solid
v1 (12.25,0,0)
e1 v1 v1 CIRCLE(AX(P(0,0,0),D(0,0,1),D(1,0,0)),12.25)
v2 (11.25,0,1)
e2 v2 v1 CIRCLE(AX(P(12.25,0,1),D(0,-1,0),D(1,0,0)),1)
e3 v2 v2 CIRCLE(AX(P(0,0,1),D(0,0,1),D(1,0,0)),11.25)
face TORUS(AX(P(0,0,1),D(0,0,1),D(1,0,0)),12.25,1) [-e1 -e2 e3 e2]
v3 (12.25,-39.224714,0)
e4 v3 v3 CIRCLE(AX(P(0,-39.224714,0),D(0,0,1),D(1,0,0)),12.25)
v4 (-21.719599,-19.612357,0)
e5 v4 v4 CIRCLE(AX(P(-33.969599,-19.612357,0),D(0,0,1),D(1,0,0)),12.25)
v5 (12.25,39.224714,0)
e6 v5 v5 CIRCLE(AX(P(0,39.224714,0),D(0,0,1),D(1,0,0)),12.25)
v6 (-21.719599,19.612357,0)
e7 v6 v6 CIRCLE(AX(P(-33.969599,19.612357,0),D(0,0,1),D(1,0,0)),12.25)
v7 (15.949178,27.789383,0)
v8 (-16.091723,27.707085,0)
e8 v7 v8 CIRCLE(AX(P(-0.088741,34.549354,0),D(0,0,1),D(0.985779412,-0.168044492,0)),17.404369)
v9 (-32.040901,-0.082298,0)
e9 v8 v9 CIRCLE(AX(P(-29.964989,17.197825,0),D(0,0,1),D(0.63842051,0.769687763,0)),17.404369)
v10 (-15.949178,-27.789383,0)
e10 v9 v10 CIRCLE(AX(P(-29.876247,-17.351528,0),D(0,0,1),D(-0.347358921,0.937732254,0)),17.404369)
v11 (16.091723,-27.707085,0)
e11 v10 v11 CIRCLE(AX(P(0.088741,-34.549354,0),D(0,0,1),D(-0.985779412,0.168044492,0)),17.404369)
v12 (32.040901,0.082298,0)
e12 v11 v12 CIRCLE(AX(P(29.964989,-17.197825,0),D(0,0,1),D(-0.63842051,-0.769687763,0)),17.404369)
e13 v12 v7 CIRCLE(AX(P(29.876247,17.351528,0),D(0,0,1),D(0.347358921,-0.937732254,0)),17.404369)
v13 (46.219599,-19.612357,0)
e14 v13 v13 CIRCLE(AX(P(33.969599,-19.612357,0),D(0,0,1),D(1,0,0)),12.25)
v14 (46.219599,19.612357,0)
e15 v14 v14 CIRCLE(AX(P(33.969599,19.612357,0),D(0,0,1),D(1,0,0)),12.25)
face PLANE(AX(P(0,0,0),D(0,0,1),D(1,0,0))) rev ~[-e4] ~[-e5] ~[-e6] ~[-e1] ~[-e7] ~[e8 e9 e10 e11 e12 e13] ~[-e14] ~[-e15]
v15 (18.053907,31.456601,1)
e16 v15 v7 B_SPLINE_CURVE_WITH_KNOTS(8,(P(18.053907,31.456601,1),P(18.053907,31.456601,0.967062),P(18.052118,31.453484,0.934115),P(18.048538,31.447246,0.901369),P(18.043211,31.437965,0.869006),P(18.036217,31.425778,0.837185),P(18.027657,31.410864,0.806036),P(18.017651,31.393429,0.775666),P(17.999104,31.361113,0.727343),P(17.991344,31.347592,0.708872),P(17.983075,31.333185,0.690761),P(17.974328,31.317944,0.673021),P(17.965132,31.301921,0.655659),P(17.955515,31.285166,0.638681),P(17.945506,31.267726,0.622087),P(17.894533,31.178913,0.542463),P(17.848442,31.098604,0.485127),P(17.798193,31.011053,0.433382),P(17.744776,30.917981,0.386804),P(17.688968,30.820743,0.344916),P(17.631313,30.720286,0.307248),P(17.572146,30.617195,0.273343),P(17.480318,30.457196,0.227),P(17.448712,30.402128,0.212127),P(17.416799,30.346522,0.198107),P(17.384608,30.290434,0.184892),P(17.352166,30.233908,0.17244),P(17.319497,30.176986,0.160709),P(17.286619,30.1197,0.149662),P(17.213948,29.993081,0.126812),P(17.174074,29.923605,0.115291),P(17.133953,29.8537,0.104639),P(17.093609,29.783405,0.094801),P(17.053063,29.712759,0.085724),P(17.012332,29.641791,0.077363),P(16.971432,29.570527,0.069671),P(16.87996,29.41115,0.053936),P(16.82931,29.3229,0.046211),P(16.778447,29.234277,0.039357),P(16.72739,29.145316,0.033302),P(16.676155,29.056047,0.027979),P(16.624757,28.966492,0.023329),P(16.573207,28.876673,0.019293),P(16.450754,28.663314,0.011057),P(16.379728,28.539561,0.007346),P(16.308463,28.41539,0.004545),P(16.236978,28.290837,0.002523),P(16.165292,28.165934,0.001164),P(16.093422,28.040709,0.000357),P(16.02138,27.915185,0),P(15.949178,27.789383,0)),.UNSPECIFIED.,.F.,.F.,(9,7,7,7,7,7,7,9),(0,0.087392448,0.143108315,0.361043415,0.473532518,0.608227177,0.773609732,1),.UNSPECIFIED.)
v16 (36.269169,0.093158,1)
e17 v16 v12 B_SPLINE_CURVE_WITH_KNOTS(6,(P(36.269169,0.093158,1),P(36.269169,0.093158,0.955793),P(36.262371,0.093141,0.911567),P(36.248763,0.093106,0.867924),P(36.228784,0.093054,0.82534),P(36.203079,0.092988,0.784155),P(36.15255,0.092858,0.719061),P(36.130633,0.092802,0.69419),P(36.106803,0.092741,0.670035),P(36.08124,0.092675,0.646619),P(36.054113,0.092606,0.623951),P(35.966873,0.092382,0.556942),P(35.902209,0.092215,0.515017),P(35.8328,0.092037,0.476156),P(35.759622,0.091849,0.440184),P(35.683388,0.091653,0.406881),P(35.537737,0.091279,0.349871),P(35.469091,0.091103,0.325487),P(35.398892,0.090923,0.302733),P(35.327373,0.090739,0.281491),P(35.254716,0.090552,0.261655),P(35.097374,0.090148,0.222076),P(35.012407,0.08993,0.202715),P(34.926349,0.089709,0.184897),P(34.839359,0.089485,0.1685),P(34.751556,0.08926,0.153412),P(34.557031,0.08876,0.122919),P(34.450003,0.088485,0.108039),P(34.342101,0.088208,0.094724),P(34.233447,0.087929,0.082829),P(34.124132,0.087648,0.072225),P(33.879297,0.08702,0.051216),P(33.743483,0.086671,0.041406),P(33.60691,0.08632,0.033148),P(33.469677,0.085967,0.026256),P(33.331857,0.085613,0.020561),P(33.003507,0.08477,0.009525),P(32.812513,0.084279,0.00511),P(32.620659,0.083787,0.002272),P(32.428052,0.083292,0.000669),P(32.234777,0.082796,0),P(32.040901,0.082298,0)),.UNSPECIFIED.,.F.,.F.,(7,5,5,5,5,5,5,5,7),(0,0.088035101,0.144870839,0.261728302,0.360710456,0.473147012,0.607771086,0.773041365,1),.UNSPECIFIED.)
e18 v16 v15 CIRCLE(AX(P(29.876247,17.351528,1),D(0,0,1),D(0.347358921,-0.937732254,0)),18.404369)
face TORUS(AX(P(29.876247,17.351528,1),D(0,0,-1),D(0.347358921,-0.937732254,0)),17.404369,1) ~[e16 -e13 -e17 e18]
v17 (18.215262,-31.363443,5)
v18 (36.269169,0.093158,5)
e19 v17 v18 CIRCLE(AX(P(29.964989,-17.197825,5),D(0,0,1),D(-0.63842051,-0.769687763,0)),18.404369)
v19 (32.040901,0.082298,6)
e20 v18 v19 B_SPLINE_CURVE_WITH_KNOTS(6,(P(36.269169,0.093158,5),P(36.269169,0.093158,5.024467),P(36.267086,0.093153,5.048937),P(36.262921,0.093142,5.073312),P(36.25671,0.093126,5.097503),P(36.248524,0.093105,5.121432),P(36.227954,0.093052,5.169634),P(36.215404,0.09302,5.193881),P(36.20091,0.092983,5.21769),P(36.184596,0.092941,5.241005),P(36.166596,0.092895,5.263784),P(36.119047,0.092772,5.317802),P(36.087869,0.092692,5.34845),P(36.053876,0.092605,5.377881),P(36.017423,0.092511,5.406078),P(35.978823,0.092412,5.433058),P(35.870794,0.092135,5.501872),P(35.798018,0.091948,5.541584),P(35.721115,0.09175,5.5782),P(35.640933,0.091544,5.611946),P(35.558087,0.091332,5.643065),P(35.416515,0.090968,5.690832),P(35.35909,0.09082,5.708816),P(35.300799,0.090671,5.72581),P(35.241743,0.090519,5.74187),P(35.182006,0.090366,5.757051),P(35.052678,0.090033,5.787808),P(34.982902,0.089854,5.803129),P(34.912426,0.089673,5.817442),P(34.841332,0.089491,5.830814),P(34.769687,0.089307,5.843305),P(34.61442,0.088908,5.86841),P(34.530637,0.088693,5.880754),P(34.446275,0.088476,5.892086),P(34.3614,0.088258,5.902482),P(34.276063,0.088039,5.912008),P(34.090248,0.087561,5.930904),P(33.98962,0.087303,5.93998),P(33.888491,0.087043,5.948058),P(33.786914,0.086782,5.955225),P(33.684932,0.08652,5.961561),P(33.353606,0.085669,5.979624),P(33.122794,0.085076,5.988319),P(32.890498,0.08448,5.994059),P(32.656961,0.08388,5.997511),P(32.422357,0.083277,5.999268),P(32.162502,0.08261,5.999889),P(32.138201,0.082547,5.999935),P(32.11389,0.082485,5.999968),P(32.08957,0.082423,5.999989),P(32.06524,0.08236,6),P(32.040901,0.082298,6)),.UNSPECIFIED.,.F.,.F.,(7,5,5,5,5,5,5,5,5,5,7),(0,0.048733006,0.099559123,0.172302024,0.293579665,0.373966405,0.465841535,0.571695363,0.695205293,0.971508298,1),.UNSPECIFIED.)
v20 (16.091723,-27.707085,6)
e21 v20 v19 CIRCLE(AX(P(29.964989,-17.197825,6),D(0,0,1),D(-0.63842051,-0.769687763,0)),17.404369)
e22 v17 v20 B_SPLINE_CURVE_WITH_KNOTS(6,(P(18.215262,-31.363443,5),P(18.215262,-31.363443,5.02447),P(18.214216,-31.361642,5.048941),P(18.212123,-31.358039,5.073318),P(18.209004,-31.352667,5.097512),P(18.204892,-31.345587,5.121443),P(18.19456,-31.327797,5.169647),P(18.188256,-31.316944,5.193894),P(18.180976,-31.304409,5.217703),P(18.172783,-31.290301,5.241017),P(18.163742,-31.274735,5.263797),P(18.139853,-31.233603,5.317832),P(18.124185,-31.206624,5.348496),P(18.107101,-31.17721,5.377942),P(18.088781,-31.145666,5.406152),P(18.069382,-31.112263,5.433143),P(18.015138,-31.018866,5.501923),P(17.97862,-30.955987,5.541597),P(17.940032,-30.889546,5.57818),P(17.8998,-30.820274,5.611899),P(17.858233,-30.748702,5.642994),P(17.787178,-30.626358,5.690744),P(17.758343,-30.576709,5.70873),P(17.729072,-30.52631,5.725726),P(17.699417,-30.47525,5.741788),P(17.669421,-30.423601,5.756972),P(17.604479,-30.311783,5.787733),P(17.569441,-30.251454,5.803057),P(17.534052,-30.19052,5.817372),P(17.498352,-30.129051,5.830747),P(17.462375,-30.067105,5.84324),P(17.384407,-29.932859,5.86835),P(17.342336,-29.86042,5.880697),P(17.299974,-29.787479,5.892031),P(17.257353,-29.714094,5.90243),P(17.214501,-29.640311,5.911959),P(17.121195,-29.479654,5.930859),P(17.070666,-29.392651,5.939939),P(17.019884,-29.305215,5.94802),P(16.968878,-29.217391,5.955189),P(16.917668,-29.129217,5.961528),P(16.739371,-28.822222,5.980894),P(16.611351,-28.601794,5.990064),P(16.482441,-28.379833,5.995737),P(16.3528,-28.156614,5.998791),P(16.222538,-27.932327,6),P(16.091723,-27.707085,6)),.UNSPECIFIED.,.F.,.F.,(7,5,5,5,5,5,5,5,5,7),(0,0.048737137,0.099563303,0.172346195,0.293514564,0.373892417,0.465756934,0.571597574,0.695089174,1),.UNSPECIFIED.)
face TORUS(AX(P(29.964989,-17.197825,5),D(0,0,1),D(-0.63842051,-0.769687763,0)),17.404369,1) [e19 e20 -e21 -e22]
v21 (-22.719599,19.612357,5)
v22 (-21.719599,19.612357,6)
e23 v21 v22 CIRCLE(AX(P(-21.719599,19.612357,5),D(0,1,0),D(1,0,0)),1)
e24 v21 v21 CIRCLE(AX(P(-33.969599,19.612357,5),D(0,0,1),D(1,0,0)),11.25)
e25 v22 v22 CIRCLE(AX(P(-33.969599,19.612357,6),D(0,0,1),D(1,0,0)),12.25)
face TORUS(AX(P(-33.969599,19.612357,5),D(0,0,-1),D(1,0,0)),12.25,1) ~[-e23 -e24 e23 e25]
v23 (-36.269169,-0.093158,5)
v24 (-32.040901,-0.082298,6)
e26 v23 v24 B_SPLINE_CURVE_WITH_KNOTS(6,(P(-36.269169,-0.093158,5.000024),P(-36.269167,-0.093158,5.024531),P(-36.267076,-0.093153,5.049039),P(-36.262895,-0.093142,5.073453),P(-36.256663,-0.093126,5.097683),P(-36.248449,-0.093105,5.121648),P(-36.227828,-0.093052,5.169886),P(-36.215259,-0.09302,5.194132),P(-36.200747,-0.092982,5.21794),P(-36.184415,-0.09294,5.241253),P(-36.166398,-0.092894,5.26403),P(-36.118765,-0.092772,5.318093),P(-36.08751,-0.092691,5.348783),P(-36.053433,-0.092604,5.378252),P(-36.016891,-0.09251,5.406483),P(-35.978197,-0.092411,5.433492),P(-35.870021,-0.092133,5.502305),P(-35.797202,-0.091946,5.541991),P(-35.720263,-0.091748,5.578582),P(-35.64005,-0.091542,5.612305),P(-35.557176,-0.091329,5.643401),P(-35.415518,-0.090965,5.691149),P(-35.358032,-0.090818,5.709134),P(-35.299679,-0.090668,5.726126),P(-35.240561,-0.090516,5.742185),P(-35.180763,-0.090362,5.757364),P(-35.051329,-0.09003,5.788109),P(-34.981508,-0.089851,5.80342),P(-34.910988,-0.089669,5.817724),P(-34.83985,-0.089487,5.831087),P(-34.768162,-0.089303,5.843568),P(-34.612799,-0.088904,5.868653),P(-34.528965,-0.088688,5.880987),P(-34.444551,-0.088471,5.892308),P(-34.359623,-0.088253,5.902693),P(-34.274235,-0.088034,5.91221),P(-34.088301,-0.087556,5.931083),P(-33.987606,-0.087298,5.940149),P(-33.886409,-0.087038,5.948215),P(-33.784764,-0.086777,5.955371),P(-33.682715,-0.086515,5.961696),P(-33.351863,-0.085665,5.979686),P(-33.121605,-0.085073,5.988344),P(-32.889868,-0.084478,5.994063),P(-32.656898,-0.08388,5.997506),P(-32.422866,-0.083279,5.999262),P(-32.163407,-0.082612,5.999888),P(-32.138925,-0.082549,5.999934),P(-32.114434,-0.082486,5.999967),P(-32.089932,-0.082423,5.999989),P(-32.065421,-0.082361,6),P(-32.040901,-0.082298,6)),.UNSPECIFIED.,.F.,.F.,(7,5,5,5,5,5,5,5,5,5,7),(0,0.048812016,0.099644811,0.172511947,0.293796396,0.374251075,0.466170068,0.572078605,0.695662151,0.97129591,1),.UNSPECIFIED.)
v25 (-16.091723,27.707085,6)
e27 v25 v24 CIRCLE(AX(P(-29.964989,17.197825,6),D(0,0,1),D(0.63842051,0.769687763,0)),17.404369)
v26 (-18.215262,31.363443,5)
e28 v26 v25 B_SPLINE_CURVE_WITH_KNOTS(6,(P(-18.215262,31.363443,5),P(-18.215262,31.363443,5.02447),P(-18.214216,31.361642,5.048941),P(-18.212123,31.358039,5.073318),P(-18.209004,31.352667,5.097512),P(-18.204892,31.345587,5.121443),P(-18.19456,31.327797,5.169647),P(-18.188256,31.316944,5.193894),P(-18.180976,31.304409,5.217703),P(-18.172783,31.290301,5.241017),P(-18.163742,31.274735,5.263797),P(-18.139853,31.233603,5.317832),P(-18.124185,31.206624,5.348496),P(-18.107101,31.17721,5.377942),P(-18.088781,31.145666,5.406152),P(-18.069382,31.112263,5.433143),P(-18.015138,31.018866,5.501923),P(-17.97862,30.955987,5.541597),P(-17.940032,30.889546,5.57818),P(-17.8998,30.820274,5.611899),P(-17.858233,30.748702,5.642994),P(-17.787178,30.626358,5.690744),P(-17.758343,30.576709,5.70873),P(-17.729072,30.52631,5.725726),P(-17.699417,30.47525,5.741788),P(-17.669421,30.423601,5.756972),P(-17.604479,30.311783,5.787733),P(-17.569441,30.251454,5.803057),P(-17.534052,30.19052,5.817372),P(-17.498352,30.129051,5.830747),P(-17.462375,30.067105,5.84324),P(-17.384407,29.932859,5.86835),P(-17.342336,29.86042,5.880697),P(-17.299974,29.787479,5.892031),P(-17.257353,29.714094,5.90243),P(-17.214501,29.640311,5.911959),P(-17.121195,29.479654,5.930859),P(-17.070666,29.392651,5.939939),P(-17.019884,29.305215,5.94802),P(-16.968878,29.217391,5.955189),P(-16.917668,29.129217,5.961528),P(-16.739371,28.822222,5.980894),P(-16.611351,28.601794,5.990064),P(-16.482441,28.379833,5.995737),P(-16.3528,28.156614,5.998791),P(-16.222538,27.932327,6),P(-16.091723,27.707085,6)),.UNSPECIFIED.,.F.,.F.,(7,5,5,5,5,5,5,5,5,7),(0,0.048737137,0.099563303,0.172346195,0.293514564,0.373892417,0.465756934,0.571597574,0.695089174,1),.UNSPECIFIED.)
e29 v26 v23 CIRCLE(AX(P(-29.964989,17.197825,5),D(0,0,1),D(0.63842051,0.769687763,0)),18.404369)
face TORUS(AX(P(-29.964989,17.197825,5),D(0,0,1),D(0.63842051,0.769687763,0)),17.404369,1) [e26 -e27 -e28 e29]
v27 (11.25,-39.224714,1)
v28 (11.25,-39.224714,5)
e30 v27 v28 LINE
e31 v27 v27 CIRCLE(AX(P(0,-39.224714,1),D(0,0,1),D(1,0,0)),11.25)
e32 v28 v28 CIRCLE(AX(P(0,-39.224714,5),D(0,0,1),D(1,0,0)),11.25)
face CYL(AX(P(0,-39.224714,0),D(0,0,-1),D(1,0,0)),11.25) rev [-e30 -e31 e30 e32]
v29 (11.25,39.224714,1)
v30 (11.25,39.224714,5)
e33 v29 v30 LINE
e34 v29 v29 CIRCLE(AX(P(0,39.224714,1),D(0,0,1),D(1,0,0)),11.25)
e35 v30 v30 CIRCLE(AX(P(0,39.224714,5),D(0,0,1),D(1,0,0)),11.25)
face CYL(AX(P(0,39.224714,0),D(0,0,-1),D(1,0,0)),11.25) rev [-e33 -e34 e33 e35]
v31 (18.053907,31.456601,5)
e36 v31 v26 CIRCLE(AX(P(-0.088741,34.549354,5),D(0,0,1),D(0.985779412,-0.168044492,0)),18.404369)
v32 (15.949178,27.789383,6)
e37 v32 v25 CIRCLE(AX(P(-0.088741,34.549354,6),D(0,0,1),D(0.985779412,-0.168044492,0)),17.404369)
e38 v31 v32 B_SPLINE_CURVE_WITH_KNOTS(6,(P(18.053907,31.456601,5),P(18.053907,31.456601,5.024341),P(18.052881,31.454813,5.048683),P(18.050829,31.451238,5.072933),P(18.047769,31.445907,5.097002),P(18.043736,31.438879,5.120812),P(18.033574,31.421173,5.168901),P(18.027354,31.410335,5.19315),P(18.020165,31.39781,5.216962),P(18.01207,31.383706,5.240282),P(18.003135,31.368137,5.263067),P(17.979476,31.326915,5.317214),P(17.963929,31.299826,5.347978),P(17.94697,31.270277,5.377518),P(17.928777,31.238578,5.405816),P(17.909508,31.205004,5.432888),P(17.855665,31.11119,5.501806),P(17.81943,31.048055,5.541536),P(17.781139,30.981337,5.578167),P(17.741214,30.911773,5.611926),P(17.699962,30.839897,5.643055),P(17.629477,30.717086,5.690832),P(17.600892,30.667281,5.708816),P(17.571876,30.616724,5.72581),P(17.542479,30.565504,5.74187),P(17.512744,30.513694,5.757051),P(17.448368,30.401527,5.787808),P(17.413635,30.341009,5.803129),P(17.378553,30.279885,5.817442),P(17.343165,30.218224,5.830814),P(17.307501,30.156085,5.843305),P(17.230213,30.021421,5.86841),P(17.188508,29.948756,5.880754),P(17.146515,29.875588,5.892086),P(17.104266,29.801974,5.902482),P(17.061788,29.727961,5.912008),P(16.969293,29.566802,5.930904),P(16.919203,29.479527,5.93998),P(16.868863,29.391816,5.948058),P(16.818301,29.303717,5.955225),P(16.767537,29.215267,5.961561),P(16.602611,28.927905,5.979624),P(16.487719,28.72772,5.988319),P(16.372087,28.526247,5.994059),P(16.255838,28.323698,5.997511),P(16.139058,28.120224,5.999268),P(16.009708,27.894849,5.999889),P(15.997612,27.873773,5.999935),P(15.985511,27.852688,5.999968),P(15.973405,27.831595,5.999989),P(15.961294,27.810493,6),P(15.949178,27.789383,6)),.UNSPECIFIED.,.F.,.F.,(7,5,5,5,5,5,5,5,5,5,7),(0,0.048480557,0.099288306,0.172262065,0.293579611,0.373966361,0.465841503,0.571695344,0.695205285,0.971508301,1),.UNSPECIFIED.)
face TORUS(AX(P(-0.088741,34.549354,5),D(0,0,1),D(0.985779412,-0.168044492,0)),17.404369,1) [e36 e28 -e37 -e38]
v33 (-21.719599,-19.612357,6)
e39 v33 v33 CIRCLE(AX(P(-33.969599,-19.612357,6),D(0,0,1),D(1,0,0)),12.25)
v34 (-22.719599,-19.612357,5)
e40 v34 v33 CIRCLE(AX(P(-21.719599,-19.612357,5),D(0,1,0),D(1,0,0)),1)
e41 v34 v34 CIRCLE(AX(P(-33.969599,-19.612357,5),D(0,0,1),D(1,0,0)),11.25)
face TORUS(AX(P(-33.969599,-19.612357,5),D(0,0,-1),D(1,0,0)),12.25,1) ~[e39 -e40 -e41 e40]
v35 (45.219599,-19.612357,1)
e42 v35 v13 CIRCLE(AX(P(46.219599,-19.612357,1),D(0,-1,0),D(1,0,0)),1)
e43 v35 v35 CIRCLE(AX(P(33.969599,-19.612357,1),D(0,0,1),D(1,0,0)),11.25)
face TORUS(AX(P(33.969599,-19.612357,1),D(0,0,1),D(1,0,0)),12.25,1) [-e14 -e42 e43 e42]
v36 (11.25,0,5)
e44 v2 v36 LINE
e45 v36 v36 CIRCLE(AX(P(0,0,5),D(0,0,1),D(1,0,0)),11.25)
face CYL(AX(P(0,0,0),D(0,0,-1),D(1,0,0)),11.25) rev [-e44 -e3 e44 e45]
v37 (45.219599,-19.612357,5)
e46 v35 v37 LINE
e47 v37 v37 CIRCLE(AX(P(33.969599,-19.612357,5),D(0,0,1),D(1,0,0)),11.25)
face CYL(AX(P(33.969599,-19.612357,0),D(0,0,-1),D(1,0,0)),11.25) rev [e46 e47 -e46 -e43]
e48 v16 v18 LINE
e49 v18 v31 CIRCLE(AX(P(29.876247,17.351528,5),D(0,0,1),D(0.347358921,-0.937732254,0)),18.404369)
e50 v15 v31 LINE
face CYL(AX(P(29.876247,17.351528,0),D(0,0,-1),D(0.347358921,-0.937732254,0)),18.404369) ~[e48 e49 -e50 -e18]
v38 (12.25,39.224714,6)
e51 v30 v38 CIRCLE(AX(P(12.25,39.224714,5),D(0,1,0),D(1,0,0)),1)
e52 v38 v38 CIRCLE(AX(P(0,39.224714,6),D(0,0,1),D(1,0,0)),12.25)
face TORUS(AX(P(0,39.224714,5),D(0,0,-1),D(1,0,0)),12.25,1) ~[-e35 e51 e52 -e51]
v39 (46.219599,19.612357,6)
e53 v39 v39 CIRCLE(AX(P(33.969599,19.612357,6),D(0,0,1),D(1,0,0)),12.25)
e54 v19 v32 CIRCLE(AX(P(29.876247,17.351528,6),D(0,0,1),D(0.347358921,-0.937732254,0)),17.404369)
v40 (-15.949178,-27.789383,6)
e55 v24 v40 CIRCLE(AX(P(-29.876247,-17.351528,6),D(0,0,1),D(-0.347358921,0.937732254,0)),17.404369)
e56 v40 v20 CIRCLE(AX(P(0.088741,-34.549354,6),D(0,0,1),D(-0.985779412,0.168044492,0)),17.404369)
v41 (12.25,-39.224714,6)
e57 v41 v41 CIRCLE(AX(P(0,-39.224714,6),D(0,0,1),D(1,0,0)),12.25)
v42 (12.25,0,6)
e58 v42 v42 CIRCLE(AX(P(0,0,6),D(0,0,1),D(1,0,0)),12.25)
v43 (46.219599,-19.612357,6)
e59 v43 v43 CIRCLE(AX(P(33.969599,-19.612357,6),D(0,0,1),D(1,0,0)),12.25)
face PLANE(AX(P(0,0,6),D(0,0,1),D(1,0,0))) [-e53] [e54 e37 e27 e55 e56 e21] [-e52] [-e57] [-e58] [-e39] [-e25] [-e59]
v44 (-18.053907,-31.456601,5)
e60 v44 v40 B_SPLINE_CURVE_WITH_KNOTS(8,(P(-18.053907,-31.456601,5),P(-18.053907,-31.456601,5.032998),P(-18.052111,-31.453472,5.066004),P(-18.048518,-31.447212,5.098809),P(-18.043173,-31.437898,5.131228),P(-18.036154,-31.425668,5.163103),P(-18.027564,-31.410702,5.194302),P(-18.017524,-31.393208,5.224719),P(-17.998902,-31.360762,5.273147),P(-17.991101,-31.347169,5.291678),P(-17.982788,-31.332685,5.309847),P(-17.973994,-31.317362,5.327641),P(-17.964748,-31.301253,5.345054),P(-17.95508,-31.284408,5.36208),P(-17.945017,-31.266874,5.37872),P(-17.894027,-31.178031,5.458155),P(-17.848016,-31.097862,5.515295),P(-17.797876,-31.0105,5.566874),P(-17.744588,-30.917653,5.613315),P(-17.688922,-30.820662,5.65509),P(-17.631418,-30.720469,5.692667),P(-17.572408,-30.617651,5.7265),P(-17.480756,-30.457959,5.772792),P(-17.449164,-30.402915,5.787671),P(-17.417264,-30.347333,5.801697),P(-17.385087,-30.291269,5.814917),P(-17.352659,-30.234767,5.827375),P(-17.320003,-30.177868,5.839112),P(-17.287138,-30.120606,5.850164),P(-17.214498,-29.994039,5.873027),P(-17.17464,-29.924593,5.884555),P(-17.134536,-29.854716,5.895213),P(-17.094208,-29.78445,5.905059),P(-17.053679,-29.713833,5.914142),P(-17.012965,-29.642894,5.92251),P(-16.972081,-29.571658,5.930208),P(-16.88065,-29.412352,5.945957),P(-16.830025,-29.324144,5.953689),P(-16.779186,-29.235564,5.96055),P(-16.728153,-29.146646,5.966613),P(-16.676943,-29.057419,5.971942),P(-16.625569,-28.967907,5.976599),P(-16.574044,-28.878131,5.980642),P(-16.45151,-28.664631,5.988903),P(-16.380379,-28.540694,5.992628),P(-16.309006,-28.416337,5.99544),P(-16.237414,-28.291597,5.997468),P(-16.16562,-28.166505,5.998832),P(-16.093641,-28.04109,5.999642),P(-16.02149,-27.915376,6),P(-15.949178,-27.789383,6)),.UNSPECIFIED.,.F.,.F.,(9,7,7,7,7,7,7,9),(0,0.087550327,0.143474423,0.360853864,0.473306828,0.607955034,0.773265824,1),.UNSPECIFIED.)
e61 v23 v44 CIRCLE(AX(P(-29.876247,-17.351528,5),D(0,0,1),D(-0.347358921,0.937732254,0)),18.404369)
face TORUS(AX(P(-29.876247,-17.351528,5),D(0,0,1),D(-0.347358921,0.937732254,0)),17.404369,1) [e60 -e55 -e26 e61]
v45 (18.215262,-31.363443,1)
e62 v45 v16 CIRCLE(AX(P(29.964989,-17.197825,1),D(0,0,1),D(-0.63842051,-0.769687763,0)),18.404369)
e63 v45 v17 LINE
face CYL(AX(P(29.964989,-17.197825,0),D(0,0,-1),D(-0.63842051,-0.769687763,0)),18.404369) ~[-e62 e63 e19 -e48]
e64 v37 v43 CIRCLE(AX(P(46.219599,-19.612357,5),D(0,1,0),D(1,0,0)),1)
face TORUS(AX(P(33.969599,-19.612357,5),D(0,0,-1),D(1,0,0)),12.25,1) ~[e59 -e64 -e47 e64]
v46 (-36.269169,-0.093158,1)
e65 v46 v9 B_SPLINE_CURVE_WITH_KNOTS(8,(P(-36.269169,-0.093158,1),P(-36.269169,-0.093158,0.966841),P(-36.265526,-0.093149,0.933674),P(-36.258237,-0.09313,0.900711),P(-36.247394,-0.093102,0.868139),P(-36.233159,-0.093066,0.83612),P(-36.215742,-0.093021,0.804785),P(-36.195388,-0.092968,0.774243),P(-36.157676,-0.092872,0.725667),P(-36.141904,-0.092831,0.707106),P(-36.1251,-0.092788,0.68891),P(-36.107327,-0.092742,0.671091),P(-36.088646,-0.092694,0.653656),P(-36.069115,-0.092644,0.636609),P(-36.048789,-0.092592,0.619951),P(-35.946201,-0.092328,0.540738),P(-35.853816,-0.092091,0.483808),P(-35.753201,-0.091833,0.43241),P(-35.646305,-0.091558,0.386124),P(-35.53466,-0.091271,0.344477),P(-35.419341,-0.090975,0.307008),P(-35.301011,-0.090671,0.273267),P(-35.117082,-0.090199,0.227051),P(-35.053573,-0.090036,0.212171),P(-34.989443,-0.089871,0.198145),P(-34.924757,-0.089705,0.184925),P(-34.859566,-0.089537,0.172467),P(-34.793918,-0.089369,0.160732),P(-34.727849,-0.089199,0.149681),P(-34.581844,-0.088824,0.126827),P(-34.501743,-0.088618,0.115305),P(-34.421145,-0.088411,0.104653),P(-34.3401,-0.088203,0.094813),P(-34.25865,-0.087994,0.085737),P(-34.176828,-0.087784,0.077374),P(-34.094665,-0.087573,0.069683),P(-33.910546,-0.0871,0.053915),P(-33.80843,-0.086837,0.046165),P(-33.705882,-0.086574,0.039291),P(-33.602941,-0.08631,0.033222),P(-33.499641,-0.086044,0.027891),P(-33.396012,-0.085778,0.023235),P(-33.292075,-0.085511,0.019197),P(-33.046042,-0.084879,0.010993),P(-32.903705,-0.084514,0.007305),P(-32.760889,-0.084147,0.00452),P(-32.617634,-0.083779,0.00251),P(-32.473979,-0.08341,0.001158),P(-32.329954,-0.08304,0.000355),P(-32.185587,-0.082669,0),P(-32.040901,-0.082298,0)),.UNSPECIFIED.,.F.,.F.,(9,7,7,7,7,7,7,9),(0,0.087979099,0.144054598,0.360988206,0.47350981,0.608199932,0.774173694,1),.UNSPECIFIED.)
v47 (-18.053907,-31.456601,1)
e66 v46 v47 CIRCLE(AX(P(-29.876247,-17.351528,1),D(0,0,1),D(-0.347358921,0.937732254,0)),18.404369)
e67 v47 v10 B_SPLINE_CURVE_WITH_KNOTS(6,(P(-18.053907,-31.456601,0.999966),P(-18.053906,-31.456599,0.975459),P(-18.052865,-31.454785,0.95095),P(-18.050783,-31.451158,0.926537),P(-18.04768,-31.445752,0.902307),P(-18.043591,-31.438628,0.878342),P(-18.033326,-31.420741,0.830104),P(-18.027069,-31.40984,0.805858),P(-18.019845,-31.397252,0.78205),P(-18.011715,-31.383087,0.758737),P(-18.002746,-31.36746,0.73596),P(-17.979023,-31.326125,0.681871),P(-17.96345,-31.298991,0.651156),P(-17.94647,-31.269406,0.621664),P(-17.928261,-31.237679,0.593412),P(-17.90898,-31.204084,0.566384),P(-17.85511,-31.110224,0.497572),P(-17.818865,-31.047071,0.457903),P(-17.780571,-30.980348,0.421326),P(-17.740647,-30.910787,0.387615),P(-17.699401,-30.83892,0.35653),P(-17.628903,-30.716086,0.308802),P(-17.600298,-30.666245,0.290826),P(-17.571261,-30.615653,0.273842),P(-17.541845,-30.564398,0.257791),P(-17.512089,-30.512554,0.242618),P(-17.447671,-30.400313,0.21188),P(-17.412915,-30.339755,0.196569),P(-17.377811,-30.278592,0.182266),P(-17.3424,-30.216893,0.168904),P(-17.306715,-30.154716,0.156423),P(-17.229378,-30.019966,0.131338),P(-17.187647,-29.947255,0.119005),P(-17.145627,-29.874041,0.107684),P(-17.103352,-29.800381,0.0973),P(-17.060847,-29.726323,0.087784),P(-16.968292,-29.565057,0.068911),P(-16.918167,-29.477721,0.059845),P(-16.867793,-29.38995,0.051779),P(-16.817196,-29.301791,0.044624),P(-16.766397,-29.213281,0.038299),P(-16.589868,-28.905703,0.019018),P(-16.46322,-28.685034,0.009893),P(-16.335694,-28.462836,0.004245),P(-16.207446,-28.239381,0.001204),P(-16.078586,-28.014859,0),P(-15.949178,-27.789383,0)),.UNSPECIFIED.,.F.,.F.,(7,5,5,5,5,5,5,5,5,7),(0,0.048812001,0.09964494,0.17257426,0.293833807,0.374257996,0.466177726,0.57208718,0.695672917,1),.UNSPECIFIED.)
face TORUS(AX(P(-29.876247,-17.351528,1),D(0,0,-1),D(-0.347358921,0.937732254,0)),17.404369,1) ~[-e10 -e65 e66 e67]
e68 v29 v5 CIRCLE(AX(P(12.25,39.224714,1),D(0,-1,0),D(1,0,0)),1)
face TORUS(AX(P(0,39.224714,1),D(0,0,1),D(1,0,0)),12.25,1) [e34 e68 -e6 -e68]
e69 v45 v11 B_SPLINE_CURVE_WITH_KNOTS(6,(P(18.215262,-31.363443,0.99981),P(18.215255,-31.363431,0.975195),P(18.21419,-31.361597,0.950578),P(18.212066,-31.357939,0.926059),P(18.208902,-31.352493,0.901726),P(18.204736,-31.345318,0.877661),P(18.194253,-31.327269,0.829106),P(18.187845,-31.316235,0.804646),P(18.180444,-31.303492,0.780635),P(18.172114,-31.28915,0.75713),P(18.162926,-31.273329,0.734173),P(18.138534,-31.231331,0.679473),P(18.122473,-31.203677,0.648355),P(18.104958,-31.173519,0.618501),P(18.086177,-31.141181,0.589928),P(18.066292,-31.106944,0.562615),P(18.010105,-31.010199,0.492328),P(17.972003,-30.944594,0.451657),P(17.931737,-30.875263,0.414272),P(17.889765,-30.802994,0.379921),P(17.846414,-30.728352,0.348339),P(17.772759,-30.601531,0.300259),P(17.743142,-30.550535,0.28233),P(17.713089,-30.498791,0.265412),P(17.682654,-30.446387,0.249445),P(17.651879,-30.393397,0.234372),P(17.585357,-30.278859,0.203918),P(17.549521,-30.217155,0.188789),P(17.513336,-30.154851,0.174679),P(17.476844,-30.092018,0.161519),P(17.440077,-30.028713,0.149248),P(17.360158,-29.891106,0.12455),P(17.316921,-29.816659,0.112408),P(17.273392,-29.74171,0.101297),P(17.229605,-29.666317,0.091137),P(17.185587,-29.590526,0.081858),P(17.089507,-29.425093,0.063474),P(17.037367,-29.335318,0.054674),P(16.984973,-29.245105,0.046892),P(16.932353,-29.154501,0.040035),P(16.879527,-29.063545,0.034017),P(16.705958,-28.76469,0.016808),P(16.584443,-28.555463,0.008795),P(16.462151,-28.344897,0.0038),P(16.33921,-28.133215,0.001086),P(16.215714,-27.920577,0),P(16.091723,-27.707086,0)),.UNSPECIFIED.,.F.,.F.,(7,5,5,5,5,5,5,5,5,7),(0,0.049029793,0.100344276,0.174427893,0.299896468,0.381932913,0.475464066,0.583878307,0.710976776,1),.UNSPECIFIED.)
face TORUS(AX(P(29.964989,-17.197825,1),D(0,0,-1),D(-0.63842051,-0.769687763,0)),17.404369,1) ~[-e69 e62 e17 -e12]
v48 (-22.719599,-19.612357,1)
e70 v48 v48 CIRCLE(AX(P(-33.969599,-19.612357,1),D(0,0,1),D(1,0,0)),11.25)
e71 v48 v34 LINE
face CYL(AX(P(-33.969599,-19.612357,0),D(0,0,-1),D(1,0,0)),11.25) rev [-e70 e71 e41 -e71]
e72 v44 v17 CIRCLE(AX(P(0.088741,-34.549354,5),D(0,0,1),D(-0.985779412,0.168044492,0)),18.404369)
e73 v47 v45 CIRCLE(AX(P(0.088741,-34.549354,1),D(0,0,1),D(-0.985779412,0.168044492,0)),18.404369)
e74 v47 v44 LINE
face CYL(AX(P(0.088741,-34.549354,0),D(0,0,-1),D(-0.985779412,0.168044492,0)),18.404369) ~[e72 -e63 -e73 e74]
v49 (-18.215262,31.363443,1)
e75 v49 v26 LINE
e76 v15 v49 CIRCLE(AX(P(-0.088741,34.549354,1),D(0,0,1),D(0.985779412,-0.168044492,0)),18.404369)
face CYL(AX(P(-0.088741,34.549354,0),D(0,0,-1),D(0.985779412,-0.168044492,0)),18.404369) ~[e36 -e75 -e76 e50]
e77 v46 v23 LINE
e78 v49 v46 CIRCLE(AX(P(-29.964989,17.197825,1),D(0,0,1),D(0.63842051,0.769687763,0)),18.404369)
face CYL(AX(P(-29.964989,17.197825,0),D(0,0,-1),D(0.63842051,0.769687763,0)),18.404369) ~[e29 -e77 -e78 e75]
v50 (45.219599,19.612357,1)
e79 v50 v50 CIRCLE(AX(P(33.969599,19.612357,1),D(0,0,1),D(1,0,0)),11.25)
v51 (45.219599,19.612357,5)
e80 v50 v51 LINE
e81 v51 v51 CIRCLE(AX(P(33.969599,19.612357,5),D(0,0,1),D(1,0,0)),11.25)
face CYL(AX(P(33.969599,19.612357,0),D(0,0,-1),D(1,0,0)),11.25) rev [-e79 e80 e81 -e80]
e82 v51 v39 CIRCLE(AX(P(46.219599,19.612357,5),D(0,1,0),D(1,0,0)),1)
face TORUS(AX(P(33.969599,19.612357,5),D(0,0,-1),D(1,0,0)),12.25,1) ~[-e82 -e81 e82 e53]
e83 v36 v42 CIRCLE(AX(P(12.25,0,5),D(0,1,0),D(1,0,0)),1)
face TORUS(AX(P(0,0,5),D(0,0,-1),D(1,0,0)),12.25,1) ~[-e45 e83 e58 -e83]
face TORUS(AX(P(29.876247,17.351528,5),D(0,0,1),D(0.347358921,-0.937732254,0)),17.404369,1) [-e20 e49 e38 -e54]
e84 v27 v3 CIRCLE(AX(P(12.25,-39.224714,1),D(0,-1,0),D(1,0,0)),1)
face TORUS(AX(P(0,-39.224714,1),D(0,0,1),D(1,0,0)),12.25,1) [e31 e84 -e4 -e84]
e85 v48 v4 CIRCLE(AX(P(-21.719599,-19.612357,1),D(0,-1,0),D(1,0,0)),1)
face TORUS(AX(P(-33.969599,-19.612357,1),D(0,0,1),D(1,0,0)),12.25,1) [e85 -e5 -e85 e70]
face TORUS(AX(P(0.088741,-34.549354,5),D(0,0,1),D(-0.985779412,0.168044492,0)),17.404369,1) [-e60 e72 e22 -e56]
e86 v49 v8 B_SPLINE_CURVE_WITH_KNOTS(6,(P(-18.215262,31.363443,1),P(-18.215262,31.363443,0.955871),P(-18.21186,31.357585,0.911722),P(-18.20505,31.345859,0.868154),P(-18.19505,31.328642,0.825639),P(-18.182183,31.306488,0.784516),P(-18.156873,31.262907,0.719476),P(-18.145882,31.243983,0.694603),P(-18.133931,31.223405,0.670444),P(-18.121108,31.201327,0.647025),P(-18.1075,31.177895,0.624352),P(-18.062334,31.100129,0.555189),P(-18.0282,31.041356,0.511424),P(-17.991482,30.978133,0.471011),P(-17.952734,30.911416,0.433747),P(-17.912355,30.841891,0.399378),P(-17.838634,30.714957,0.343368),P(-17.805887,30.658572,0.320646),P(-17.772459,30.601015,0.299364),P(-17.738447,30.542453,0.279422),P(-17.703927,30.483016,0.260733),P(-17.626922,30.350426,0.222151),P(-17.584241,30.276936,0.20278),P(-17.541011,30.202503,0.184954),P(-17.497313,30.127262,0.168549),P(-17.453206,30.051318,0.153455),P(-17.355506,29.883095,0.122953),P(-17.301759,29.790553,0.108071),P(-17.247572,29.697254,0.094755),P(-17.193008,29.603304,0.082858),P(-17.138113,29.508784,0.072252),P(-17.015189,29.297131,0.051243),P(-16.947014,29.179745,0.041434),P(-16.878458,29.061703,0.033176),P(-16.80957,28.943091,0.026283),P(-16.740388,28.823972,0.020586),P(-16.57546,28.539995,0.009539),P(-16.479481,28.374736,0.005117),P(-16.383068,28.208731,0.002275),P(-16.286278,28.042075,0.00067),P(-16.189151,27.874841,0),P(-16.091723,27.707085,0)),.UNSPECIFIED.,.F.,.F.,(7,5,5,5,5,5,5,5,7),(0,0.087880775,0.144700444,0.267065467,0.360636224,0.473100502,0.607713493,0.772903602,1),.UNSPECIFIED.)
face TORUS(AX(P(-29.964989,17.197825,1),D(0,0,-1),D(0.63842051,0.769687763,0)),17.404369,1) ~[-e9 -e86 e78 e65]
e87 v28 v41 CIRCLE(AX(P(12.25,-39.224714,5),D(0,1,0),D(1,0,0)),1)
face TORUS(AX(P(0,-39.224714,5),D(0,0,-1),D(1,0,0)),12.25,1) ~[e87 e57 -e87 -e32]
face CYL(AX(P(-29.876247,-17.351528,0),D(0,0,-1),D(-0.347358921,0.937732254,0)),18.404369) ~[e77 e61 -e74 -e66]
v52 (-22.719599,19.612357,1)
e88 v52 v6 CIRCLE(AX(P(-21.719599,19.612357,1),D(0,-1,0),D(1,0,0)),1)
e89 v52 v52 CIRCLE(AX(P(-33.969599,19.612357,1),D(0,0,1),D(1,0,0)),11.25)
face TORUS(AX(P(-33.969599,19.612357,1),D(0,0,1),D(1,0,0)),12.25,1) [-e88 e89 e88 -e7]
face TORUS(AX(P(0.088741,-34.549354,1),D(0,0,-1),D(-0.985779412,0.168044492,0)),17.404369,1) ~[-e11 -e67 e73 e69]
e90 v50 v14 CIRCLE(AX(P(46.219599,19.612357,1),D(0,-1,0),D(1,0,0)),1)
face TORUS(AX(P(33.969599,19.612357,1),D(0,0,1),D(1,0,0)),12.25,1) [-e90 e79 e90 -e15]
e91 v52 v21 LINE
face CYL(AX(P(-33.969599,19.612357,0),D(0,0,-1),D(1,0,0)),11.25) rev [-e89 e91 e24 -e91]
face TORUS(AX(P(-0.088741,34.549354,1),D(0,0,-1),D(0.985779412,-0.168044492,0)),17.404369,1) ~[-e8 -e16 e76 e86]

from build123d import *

# Parameters (mm, degrees)
F0_R     = 11.25
F1_DEPTH = 6
F2_R     = 1


with BuildPart() as f1:
    # F0 (on Top) → F1 (new body)
    with BuildSketch(Plane.XY):
        with BuildLine():
            ThreePointArc((36.269169, 0.093158), (45.79121, 26.594621), (18.053907, 31.456601))
            ThreePointArc((18.053907, 31.456601), (-0.136013, 52.953662), (-18.215262, 31.363443))
            ThreePointArc((-18.215262, 31.363443), (-45.927223, 26.359041), (-36.269169, -0.093158))
            ThreePointArc((-36.269169, -0.093158), (-45.79121, -26.594621), (-18.053907, -31.456601))
            ThreePointArc((-18.053907, -31.456601), (0.136013, -52.953662), (18.215262, -31.363443))
            ThreePointArc((18.215262, -31.363443), (45.927223, -26.359041), (36.269169, 0.093158))
        make_face()
        with Locations((0, -39.224714)):
            Circle(F0_R, mode=Mode.SUBTRACT)
        with Locations((-33.969599, -19.612357)):
            Circle(F0_R, mode=Mode.SUBTRACT)
        with Locations((33.969599, -19.612357)):
            Circle(F0_R, mode=Mode.SUBTRACT)
        with Locations((-33.969599, 19.612357)):
            Circle(F0_R, mode=Mode.SUBTRACT)
        Circle(F0_R, mode=Mode.SUBTRACT)
        with Locations((0, 39.224714)):
            Circle(F0_R, mode=Mode.SUBTRACT)
        with Locations((33.969599, 19.612357)):
            Circle(F0_R, mode=Mode.SUBTRACT)
    extrude(amount=F1_DEPTH)

    # F2
    f2_edges = [f1.edges().sort_by_distance(p)[0] for p in [
        (0.136013, -52.953662, 6),
        (45.927223, -26.359041, 6),
        (45.927223, -26.359041, 0),
        (0.136013, -52.953662, 0),
        (45.79121, 26.594621, 6),
        (45.79121, 26.594621, 0),
        (-0.136013, 52.953662, 6),
        (-45.927223, 26.359041, 6),
        (-45.79121, -26.594621, 6),
        (-11.25, -39.224714, 6),
        (-45.219599, -19.612357, 6),
        (22.719599, -19.612357, 6),
        (-45.219599, 19.612357, 6),
        (-11.25, 0, 6),
        (-11.25, 39.224714, 6),
        (22.719599, 19.612357, 6),
        (-0.136013, 52.953662, 0),
        (-45.927223, 26.359041, 0),
        (-45.79121, -26.594621, 0),
        (-11.25, -39.224714, 0),
        (-45.219599, -19.612357, 0),
        (22.719599, -19.612357, 0),
        (-45.219599, 19.612357, 0),
        (-11.25, 0, 0),
        (-11.25, 39.224714, 0),
        (22.719599, 19.612357, 0),
    ]]
    fillet(f2_edges, radius=F2_R)


solid = f1.part
